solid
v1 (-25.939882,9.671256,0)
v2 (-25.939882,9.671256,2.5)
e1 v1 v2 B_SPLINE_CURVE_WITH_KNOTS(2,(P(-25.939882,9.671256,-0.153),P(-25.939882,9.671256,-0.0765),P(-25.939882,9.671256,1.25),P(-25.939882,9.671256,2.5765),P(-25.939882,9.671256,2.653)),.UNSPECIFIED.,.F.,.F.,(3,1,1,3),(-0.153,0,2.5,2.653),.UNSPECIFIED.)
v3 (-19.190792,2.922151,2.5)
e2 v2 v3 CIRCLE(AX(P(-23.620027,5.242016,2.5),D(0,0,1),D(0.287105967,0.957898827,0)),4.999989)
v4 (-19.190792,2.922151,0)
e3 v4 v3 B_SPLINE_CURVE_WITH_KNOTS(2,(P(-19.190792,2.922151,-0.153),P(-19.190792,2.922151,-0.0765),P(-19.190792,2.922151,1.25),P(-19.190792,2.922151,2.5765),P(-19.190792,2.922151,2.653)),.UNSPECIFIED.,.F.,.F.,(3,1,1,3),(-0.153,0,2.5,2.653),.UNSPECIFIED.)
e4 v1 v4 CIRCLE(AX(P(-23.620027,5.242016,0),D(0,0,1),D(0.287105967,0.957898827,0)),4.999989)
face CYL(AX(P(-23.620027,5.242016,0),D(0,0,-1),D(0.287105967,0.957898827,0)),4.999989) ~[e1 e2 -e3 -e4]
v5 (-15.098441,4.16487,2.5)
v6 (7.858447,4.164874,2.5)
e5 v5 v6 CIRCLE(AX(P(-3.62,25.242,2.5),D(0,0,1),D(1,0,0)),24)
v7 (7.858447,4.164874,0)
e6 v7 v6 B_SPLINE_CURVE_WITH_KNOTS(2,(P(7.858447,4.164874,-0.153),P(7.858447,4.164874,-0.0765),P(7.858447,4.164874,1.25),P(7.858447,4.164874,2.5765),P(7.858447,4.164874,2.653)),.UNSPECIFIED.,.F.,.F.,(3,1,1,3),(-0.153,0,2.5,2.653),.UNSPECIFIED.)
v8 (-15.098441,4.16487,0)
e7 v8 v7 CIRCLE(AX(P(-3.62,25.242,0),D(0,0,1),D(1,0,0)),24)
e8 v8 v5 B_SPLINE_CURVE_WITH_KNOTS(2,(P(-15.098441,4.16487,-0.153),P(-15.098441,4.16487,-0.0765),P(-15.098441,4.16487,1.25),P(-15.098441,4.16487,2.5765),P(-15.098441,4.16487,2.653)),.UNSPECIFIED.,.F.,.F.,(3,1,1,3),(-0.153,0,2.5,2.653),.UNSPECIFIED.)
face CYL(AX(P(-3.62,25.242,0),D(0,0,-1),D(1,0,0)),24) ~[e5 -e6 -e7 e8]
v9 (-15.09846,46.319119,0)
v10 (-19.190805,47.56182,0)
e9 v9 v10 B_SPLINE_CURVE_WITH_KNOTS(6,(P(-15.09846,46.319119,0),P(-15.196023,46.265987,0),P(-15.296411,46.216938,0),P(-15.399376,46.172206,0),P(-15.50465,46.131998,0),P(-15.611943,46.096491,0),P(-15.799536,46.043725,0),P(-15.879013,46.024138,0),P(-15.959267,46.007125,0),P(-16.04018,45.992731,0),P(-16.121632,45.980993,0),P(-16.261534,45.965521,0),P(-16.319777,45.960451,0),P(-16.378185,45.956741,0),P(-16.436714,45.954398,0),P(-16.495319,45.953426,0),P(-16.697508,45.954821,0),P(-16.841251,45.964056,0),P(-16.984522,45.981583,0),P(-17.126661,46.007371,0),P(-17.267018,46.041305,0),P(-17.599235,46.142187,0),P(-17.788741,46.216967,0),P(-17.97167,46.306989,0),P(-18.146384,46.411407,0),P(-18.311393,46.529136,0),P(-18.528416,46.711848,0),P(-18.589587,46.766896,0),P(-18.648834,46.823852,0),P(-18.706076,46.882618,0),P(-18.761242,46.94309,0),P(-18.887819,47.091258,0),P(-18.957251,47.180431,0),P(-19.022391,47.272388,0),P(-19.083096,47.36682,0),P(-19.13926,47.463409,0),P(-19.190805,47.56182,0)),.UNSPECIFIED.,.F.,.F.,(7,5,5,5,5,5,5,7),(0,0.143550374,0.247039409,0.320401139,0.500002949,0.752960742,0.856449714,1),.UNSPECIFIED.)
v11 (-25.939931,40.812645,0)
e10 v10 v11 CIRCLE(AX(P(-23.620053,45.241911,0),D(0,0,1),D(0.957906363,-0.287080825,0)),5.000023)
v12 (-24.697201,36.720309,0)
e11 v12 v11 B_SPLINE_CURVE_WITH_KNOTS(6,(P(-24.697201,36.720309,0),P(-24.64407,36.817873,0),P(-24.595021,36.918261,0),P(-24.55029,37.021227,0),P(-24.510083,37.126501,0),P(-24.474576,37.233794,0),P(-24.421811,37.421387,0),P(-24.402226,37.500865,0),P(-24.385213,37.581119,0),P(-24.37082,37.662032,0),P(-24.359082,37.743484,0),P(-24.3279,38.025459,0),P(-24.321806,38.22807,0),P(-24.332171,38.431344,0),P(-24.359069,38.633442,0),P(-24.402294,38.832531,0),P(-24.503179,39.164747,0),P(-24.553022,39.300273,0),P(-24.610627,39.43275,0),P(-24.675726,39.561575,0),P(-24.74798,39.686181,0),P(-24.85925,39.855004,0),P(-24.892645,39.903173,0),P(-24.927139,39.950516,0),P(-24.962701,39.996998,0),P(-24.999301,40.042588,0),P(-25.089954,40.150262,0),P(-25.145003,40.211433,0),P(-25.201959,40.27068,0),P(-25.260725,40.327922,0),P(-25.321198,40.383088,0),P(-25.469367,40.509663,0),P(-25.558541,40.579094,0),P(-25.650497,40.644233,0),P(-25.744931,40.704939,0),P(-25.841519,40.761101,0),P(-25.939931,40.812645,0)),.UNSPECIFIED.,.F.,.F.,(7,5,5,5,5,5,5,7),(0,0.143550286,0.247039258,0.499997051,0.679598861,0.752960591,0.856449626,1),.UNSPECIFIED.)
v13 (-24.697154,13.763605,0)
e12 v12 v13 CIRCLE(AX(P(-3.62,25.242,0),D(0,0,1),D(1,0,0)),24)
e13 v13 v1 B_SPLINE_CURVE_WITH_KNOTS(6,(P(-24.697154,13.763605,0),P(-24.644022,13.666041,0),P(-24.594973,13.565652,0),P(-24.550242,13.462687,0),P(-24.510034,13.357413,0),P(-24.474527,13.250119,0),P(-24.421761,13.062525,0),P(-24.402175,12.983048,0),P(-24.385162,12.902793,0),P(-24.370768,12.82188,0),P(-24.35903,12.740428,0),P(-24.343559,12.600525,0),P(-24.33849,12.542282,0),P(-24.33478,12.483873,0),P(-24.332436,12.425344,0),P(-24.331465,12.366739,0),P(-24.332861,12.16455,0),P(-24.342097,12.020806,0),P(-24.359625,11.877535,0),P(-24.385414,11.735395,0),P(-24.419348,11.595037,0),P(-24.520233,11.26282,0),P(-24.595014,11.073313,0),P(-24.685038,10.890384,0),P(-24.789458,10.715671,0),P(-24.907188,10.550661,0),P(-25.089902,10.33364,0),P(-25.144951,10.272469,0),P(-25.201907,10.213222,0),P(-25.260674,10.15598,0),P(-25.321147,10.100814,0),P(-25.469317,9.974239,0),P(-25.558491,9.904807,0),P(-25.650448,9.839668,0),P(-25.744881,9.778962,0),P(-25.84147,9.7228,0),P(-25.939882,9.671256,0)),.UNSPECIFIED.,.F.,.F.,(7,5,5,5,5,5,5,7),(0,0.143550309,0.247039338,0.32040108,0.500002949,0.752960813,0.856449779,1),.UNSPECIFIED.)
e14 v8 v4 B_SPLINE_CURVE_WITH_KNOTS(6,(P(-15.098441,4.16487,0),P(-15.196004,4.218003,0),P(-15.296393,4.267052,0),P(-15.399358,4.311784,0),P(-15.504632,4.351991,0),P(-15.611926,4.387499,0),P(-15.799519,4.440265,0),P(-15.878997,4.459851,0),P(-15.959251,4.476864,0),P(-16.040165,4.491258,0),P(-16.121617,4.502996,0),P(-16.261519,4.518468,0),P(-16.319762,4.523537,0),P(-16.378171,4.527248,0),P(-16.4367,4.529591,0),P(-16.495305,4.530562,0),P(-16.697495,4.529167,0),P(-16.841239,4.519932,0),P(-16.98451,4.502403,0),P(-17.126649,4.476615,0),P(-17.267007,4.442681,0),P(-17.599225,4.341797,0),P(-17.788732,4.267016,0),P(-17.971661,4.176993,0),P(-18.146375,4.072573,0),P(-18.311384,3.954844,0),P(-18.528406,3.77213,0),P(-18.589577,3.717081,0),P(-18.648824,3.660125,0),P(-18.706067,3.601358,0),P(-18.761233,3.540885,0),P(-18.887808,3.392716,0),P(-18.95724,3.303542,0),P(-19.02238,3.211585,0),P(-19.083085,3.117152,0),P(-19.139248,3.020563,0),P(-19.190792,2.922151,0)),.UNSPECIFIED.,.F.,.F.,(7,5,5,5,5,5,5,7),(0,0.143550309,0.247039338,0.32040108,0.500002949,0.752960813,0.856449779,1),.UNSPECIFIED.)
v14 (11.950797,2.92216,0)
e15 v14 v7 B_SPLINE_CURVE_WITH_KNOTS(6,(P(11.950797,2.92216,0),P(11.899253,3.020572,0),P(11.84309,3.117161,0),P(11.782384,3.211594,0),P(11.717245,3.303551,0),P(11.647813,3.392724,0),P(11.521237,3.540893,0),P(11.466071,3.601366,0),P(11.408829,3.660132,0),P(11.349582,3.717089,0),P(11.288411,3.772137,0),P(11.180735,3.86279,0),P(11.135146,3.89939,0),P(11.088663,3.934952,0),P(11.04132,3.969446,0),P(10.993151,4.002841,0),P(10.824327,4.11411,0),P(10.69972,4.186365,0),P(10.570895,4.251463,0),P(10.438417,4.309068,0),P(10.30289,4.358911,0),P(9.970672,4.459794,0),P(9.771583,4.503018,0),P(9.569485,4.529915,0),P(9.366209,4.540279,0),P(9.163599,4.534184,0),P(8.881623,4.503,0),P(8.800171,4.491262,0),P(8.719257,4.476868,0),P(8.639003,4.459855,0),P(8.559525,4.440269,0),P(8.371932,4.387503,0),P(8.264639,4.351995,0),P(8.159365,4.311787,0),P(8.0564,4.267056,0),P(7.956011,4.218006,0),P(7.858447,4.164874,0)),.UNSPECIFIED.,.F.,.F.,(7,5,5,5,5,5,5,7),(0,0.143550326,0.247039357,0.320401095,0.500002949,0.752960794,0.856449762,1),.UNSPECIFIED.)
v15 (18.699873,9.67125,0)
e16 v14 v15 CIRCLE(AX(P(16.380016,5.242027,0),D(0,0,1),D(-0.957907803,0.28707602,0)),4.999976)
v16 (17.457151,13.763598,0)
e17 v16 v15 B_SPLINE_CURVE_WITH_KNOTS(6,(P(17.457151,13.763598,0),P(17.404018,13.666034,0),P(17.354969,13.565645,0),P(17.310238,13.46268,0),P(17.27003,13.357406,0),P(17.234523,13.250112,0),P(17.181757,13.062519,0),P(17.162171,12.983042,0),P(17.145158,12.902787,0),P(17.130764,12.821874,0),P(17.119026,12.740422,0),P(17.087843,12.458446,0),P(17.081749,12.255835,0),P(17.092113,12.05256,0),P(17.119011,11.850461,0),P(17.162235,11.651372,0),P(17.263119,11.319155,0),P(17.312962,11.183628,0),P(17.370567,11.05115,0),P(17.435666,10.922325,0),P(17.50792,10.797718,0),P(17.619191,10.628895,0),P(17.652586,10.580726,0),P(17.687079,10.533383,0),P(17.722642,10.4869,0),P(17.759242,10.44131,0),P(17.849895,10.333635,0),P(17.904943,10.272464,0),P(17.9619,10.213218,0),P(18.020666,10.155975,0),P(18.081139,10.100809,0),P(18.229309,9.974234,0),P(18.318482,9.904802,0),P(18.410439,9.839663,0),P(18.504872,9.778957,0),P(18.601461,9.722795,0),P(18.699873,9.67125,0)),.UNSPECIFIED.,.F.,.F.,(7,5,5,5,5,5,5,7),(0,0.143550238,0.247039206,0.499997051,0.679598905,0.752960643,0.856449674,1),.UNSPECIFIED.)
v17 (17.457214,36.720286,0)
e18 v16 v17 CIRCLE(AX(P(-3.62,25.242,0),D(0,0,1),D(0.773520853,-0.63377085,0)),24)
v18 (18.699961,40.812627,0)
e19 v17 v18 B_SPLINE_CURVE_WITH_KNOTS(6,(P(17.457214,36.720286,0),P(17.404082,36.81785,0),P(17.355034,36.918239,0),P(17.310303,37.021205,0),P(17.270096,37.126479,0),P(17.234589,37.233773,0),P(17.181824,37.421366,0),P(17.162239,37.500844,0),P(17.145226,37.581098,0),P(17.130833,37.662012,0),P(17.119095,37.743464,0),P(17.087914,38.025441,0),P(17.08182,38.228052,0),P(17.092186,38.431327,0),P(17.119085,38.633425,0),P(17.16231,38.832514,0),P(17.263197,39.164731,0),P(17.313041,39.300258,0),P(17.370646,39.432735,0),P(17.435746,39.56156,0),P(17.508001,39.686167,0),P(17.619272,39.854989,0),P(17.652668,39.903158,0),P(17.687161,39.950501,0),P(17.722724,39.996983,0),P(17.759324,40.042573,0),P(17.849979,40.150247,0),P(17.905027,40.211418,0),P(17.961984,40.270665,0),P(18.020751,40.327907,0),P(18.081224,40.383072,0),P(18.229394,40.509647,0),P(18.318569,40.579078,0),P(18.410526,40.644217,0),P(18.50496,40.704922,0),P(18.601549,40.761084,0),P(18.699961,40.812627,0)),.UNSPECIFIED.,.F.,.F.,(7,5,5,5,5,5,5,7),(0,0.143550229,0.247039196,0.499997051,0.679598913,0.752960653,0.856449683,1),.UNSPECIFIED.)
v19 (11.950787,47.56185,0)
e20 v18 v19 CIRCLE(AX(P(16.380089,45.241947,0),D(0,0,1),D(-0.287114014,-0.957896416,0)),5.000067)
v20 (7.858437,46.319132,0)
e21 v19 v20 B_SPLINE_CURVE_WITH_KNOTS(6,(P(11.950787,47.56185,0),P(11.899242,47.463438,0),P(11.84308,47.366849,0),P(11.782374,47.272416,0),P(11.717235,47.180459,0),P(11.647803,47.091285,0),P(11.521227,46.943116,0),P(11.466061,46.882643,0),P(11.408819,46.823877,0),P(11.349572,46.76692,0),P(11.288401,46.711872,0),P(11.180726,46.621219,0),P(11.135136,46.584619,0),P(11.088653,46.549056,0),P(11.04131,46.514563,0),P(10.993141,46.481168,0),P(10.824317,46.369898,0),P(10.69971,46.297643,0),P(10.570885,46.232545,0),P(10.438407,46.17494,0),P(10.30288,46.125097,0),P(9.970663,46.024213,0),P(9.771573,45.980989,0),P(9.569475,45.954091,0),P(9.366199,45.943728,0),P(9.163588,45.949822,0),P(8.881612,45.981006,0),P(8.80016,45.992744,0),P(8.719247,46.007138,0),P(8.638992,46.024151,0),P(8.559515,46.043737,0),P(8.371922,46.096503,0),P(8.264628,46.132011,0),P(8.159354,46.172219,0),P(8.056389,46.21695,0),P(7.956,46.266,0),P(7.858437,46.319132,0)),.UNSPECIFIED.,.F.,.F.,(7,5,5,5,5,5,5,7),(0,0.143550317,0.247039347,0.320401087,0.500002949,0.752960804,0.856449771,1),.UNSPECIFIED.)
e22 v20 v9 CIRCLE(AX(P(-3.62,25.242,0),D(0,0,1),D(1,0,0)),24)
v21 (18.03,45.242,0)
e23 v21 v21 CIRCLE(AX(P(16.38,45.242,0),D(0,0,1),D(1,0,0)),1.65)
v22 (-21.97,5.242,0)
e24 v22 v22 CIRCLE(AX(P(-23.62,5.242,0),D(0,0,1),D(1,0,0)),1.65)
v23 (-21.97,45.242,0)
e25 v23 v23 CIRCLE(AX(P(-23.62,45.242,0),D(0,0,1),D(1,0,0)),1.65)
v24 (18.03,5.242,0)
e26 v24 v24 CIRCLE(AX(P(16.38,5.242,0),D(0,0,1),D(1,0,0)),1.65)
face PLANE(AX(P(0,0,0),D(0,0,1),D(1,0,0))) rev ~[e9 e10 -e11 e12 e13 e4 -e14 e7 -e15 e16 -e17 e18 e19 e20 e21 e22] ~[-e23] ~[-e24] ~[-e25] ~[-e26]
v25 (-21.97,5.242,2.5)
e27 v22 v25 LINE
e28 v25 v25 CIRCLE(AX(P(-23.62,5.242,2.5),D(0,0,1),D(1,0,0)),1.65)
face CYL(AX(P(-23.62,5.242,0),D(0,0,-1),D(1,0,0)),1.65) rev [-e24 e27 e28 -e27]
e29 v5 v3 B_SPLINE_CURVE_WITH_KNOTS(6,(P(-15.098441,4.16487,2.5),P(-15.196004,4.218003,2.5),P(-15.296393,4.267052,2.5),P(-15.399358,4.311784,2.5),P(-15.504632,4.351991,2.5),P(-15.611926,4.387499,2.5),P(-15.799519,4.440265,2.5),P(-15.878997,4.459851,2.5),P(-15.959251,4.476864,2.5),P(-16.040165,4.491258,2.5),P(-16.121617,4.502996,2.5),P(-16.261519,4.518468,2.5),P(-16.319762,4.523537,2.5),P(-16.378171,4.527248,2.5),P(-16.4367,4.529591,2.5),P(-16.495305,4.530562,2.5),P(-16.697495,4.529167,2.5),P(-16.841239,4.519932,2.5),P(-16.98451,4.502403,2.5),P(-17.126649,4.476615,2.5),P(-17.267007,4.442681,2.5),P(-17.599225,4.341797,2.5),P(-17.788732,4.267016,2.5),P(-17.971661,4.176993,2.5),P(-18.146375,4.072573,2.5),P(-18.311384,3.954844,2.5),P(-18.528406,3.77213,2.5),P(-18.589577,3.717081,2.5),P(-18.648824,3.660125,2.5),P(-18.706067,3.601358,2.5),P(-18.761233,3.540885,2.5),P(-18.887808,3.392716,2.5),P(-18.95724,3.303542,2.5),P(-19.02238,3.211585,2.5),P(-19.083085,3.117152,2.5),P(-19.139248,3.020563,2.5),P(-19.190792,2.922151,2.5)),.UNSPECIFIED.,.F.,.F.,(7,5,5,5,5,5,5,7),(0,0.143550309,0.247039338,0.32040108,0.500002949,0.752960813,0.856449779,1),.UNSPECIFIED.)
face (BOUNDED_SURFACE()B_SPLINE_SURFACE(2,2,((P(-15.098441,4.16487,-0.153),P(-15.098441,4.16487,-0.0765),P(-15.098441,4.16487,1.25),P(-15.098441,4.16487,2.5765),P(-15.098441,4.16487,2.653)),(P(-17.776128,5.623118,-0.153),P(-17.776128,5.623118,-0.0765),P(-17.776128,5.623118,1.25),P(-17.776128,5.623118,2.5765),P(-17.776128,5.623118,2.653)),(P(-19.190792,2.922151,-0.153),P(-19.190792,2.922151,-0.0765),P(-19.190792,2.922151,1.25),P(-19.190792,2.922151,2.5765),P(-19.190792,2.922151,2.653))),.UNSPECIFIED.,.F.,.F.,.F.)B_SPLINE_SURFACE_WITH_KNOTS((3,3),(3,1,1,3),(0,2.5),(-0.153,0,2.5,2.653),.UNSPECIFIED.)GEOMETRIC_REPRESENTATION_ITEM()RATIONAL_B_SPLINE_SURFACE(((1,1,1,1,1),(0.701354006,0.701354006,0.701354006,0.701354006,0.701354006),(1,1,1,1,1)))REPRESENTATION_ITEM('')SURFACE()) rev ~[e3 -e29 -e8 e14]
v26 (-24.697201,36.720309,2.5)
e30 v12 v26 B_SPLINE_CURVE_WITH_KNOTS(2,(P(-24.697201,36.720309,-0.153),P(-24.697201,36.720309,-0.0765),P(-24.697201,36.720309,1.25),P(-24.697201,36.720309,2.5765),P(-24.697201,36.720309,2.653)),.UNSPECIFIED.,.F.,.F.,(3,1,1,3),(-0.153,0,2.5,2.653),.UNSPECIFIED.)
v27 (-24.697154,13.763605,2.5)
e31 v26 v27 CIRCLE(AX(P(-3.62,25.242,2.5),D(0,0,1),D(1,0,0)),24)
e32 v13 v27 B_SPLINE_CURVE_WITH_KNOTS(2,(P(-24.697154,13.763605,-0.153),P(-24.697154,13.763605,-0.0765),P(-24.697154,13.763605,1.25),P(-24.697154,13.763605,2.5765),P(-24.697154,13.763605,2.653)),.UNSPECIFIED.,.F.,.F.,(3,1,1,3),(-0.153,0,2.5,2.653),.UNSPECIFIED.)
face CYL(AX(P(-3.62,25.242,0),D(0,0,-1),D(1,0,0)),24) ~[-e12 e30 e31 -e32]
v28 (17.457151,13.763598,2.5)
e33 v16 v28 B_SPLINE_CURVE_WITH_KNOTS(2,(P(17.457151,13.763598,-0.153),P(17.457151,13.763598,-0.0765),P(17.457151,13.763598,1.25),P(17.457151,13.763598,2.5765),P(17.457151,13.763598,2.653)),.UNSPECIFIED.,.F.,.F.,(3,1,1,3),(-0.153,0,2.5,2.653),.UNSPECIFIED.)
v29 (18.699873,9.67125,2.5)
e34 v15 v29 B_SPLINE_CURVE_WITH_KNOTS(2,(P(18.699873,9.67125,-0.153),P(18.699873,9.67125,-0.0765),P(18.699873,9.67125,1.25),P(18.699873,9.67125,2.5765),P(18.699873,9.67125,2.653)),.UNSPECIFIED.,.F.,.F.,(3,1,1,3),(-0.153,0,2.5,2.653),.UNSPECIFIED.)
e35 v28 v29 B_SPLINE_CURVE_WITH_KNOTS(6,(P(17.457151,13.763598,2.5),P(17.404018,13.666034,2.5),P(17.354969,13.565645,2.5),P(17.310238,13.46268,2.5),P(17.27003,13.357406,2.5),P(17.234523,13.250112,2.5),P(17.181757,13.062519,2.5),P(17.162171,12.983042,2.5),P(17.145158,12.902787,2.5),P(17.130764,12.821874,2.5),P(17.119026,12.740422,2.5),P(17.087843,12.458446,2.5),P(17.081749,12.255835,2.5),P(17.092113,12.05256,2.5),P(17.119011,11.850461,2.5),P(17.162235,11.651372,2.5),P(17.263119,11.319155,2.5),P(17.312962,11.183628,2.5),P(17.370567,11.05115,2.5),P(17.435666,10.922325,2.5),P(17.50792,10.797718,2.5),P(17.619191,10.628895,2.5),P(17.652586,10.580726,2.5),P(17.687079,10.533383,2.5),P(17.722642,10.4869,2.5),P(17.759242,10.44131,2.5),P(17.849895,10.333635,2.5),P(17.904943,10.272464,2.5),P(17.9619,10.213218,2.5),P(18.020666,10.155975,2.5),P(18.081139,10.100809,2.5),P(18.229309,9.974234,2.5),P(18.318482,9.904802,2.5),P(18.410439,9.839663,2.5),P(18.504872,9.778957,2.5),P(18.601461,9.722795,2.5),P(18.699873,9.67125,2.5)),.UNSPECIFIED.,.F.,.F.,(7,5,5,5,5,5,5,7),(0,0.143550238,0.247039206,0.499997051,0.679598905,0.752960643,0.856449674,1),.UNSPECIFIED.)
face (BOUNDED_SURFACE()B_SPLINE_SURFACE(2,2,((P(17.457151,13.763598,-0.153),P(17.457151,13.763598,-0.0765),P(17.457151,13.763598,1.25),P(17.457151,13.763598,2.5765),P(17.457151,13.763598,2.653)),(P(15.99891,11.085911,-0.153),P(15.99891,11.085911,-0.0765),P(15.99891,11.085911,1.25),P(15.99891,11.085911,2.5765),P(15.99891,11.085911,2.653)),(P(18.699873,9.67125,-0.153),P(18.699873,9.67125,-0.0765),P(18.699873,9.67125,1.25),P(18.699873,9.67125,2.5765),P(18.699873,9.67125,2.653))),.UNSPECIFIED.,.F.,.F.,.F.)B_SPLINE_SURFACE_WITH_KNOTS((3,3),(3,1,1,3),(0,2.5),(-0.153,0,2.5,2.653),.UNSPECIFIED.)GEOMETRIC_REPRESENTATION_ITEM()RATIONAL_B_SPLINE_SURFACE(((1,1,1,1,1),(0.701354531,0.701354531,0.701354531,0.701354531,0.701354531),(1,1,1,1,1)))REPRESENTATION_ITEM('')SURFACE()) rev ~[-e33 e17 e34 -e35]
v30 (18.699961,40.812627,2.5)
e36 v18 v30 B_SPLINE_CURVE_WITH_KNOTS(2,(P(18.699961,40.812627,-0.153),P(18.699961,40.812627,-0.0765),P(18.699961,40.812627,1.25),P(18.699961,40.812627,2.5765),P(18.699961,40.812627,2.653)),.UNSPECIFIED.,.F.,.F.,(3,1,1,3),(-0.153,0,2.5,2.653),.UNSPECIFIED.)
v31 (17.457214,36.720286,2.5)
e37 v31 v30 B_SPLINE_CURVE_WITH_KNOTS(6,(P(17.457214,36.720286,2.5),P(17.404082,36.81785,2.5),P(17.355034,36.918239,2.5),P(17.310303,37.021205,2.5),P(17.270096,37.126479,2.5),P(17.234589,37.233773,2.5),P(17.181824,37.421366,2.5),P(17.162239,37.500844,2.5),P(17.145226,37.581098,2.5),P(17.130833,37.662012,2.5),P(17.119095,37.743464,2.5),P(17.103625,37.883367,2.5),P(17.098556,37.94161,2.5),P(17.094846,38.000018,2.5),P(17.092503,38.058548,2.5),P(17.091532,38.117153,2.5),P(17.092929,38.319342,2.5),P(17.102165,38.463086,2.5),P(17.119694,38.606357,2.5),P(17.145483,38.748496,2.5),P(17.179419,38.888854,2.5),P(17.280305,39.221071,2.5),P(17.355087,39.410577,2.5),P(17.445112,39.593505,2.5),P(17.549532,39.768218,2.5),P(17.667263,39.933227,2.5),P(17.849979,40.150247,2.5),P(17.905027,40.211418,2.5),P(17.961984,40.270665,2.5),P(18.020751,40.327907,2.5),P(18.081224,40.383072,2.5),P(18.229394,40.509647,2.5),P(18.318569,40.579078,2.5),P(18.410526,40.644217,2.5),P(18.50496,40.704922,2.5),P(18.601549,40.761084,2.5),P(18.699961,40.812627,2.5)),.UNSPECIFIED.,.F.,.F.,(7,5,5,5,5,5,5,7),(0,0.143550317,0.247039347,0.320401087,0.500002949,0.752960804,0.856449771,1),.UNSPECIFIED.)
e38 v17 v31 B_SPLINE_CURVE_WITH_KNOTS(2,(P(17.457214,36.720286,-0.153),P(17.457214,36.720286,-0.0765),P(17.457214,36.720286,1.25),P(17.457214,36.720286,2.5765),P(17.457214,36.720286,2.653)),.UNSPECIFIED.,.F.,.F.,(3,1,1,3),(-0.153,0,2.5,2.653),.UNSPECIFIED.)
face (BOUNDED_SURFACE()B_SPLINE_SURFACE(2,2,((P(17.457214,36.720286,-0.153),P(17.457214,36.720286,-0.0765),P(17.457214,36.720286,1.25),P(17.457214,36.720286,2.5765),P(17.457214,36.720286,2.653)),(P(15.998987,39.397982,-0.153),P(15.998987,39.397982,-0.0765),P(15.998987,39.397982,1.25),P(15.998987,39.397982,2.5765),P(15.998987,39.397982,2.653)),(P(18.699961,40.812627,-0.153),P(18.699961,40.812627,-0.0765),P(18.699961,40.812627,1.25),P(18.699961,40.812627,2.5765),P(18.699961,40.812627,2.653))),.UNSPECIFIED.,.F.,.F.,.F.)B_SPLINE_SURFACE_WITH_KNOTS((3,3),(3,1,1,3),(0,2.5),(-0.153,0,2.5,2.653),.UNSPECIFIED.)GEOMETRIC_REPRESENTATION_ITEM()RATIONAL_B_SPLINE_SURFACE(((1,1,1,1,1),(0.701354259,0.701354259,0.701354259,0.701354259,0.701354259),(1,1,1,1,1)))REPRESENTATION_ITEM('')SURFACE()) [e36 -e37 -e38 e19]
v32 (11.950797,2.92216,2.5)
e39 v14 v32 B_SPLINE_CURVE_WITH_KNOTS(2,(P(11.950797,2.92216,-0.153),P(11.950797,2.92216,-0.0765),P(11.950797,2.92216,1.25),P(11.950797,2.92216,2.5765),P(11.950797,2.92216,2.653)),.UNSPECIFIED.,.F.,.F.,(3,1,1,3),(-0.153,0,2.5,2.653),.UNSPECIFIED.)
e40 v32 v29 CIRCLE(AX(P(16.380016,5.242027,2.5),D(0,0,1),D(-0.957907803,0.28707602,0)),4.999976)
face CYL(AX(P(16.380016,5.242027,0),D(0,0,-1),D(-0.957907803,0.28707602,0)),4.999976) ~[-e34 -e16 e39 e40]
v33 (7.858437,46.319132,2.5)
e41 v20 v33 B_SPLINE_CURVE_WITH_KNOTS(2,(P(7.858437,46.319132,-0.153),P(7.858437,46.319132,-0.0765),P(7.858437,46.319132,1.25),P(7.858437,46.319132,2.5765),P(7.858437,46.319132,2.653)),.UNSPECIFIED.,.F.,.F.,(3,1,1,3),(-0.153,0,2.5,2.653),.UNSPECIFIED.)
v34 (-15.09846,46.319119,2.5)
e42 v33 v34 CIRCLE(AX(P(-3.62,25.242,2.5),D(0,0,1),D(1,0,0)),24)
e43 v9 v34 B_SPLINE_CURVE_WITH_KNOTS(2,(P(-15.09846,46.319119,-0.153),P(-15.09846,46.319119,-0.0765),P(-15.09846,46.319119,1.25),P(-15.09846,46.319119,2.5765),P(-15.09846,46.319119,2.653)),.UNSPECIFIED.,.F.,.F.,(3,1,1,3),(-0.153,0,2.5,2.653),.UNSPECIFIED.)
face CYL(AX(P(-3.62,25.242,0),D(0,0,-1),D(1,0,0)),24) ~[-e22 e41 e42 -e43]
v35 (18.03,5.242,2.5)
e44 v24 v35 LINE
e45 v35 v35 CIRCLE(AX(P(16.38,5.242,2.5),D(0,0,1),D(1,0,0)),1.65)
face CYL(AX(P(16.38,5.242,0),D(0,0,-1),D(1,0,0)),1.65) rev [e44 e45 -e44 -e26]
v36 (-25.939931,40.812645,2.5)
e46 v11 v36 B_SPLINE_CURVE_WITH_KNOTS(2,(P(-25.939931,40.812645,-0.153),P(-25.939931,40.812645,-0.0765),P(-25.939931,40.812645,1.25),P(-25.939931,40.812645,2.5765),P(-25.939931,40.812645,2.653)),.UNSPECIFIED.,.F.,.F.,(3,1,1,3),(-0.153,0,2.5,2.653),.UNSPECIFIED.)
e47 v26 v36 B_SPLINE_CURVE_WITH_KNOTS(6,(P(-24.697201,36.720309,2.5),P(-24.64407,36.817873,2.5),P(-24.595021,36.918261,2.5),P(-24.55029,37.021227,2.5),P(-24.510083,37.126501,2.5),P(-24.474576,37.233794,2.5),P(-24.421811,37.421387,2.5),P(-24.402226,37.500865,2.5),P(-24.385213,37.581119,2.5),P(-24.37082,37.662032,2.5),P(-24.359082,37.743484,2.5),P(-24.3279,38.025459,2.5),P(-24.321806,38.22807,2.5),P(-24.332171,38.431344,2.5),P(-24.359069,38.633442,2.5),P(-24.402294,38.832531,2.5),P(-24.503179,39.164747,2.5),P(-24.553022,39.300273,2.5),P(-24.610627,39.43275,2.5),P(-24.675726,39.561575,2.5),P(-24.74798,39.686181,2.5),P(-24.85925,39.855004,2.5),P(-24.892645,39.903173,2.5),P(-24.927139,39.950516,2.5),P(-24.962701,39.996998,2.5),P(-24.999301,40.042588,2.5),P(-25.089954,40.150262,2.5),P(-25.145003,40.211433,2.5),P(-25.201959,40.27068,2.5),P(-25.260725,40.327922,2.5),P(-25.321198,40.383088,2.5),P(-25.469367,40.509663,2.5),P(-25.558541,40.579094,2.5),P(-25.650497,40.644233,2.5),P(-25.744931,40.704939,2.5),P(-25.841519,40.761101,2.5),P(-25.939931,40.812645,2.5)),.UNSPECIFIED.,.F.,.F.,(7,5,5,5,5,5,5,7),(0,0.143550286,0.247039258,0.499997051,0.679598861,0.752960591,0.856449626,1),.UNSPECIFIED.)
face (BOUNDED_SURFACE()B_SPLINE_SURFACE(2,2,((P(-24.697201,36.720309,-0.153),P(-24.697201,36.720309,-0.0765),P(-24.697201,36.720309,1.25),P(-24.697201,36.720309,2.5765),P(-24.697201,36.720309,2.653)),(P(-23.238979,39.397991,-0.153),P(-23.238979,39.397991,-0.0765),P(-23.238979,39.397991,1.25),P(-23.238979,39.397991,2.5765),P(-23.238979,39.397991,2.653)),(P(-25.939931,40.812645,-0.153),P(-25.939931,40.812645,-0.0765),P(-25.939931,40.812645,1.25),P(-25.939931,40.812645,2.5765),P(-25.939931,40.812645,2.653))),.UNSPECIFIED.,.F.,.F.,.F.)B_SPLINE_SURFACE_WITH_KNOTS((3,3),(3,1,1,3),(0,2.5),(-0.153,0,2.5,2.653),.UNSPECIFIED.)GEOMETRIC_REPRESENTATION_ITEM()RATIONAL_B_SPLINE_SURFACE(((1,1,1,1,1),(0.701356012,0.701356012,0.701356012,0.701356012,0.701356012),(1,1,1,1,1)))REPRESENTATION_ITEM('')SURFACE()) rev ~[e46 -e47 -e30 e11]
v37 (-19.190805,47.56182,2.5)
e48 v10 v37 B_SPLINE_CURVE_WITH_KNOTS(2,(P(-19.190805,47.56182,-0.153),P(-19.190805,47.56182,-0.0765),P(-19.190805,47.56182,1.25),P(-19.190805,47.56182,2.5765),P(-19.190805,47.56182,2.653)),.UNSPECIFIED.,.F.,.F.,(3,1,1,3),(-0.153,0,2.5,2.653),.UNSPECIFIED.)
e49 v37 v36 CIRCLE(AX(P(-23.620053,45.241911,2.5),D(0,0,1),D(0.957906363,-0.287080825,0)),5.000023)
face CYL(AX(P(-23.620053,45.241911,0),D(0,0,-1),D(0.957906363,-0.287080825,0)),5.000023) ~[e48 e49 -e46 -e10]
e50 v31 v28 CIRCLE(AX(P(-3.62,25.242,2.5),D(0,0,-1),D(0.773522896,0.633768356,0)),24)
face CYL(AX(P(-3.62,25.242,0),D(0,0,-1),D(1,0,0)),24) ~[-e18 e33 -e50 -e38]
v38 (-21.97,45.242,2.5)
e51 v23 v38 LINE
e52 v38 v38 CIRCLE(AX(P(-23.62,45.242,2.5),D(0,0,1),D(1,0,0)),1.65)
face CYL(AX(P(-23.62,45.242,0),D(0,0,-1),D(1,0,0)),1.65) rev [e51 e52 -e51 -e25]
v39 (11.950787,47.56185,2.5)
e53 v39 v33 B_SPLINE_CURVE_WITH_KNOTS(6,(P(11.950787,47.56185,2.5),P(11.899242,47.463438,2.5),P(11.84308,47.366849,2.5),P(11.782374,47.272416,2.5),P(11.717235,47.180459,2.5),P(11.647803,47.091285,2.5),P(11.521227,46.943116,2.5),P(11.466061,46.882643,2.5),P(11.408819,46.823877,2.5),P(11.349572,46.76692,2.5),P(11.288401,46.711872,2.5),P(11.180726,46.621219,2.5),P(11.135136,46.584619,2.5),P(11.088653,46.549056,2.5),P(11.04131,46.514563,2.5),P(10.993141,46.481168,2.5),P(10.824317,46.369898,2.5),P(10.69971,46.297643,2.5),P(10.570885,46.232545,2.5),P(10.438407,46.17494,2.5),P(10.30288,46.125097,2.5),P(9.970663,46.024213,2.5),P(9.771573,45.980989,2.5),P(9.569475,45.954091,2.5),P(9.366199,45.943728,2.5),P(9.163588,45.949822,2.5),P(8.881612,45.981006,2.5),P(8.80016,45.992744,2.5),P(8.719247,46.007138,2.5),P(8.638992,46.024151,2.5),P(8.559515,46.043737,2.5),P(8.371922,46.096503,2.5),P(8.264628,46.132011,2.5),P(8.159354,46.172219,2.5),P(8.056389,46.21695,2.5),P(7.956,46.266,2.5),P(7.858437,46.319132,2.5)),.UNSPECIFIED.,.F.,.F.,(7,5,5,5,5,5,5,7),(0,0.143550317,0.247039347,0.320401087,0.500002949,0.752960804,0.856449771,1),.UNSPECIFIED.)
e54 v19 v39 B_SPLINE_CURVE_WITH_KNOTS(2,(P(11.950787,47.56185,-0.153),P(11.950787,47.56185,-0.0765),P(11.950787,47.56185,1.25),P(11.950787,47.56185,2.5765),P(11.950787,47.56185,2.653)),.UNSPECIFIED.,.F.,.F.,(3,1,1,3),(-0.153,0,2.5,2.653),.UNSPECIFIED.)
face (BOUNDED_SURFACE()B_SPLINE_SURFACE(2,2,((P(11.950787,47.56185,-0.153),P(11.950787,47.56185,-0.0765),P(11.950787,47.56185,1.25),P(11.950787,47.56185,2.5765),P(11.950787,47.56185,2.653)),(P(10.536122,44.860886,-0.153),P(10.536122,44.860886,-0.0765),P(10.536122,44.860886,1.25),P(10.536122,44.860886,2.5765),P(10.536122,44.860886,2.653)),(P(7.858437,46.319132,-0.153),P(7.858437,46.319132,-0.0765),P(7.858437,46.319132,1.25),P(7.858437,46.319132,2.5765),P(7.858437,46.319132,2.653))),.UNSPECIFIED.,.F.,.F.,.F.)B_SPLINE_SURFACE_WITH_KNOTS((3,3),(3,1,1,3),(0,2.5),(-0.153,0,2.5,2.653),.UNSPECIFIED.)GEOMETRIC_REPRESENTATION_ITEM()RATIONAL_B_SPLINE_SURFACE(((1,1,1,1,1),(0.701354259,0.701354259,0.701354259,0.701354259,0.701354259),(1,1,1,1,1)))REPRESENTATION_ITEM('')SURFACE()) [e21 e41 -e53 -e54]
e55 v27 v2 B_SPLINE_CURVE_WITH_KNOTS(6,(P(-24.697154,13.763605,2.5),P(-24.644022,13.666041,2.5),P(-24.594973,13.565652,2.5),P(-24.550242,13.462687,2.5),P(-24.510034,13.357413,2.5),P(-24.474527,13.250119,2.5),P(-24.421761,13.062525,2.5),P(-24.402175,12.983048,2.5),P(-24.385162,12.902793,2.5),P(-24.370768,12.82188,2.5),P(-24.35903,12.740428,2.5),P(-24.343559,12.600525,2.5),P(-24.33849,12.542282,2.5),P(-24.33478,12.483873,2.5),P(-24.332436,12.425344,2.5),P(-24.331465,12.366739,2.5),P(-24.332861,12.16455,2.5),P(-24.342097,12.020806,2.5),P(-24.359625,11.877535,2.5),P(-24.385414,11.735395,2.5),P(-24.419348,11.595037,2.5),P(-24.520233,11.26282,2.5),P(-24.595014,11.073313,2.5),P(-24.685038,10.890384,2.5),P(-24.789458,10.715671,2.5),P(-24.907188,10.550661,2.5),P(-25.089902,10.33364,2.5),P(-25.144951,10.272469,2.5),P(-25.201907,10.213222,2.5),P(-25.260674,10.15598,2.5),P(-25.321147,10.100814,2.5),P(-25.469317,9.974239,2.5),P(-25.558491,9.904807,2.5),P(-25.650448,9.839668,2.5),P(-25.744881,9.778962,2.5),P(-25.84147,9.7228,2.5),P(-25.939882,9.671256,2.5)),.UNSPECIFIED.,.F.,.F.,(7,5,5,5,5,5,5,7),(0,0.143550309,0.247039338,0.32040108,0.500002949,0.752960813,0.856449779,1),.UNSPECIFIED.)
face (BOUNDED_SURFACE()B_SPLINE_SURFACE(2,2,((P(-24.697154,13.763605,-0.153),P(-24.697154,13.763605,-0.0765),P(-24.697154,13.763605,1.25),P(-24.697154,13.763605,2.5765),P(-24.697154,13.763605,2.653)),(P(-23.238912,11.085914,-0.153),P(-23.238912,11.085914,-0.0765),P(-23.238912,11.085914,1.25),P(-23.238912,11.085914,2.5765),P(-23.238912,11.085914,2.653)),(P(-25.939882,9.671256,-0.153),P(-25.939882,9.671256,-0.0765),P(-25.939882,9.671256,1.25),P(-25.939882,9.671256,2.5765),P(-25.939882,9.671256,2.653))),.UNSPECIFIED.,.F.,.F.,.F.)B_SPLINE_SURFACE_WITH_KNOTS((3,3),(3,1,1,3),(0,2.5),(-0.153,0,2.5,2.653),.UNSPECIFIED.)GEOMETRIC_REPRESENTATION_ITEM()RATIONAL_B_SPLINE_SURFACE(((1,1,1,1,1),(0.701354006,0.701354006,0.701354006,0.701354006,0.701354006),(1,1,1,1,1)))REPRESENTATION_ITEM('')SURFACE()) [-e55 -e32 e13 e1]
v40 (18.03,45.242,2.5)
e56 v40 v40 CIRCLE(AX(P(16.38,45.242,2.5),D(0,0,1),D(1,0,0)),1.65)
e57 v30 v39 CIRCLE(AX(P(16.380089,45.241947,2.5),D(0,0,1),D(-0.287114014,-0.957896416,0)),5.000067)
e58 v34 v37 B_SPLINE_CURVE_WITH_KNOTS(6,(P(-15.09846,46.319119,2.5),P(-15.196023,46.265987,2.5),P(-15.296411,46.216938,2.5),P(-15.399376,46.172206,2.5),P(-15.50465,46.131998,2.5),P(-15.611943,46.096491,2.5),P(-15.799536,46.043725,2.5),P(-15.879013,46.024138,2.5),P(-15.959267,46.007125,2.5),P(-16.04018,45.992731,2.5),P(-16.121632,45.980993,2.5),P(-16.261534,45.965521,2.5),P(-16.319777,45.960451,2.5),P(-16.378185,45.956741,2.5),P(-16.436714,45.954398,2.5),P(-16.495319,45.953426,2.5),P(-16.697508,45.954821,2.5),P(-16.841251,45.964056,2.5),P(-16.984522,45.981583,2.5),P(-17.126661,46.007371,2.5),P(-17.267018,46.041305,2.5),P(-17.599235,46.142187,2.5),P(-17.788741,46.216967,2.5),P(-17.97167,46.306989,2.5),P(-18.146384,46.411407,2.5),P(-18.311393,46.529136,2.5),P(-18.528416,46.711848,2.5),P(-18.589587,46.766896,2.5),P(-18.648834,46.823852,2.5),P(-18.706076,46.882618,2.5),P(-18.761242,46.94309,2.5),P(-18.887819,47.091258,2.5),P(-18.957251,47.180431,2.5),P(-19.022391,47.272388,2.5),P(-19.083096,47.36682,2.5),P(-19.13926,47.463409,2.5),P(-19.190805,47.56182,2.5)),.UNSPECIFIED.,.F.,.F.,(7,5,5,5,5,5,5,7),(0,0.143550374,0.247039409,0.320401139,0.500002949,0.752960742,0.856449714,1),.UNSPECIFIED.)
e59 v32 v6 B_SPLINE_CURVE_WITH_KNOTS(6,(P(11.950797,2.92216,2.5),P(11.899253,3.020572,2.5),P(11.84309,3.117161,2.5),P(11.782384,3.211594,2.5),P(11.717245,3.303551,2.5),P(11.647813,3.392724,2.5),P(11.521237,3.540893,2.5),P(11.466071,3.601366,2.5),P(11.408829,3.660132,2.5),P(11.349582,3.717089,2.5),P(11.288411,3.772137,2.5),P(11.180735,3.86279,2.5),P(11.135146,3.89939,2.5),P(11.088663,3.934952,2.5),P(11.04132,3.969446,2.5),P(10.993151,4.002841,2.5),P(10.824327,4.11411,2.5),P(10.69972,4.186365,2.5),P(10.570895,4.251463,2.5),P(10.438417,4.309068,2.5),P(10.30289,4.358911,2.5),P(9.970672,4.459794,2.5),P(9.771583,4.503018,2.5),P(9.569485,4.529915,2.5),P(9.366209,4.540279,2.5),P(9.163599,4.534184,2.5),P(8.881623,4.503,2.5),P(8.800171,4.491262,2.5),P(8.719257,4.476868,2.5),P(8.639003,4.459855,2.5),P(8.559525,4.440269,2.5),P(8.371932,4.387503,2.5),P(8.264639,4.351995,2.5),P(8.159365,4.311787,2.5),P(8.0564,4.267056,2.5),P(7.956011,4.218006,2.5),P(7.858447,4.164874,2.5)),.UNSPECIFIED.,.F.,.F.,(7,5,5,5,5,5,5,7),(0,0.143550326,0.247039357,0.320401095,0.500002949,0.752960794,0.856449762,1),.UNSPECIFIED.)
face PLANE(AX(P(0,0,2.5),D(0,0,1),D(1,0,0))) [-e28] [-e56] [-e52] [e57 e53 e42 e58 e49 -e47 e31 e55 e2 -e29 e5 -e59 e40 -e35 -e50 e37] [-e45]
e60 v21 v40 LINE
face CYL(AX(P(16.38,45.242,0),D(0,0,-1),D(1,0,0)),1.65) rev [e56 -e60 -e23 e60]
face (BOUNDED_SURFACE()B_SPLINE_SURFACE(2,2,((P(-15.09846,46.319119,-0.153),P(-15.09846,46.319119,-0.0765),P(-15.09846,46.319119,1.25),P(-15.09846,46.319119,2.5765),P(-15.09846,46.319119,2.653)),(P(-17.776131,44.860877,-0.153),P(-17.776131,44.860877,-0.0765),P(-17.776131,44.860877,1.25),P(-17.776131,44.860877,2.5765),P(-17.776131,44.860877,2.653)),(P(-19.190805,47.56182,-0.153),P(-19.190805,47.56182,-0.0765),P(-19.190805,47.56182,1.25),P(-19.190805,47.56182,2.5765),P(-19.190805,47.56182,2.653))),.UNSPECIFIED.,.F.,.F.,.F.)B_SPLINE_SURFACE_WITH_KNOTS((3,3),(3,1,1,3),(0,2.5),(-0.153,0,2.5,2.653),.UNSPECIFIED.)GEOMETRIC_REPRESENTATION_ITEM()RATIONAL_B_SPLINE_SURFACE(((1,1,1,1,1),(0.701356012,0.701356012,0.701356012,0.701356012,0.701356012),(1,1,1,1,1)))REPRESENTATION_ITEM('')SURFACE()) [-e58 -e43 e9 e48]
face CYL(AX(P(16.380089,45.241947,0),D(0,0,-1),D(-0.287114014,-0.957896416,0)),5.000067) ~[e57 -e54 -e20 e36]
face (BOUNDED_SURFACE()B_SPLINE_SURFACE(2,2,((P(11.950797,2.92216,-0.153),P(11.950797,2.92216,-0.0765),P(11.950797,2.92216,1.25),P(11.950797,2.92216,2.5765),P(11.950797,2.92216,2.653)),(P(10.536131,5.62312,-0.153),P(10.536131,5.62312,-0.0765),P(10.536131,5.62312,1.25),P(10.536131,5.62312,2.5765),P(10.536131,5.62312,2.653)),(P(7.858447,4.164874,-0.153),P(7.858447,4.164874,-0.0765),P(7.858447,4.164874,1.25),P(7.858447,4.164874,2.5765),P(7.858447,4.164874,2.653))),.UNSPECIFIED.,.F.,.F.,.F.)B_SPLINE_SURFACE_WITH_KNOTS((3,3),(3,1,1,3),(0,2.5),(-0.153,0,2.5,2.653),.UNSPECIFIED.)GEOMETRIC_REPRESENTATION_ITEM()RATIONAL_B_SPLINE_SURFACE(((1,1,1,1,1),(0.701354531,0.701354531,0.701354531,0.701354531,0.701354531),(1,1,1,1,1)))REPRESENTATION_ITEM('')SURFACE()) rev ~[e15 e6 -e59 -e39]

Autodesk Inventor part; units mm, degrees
ref_plane "YZ Plane" through (0, 0, 0) normal (1, 0, 0) x (0, 1, 0)
ref_plane "XZ Plane" through (0, 0, 0) normal (0, 1, 0) x (-1, 0, 0)
ref_plane "XY Plane" through (0, 0, 0) normal (0, 0, 1) x (1, 0, 0)
sketch "Szkic1" plane through (0, 0, 0) normal (0, 0, 1) x (1, 0, 0)
  circle A0 centre (-23.62, 45.242) radius 1.65
  circle A1 centre (16.38, 45.242) radius 1.65
  circle A2 centre (-23.62, 5.242) radius 1.65
  circle A3 centre (16.38, 5.242) radius 1.65
  circle A4 centre (-3.62, 25.242) radius 24
  arc A5 (-18.8305, 43.8065) -> (-22.1845, 40.4524) centre (-23.62, 45.242) ccw
  arc A6 (-22.1845, 10.0315) -> (-18.8305, 6.6774) centre (-23.62, 5.242) ccw
  arc A7 (14.9445, 40.4524) -> (11.5905, 43.8065) centre (16.38, 45.242) ccw
  arc A8 (11.5905, 6.6774) -> (14.9445, 10.0315) centre (16.38, 5.242) ccw
  point P0 (0, 0)
  point P1 (0, 0)
  dimension "d10" = 3.3
  dimension "d11" = 3.3
  dimension "d12" = 3.3
  dimension "d15" = 10
  dimension "d16" = 10
  dimension "d17" = 10
  dimension "d18" = 10
  dimension "d22" = 3.3
extrude "Wyciągnięcie proste1" add sketch "Szkic1" along normal blind 2.5
fillet "Zaokrąglenie1" radius 3 8 edges at (-22.1845, 10.0315, 1.25) (-18.8305, 6.6774, 1.25) (14.9445, 10.0315, 1.25) (11.5905, 6.6774, 1.25) (11.5905, 43.8065, 1.25) (14.9445, 40.4524, 1.25) (-18.8305, 43.8065, 1.25) (-22.1845, 40.4524, 1.25)
equation "\"d10\" = d12"
equation "\"d11\" = d12"
equation "\"d22\" = d12"
properties part number "3DP_ABS_Electronics_Colling_Fan_Grill_Honeycomb" material "Aluminium 5005-H12"
